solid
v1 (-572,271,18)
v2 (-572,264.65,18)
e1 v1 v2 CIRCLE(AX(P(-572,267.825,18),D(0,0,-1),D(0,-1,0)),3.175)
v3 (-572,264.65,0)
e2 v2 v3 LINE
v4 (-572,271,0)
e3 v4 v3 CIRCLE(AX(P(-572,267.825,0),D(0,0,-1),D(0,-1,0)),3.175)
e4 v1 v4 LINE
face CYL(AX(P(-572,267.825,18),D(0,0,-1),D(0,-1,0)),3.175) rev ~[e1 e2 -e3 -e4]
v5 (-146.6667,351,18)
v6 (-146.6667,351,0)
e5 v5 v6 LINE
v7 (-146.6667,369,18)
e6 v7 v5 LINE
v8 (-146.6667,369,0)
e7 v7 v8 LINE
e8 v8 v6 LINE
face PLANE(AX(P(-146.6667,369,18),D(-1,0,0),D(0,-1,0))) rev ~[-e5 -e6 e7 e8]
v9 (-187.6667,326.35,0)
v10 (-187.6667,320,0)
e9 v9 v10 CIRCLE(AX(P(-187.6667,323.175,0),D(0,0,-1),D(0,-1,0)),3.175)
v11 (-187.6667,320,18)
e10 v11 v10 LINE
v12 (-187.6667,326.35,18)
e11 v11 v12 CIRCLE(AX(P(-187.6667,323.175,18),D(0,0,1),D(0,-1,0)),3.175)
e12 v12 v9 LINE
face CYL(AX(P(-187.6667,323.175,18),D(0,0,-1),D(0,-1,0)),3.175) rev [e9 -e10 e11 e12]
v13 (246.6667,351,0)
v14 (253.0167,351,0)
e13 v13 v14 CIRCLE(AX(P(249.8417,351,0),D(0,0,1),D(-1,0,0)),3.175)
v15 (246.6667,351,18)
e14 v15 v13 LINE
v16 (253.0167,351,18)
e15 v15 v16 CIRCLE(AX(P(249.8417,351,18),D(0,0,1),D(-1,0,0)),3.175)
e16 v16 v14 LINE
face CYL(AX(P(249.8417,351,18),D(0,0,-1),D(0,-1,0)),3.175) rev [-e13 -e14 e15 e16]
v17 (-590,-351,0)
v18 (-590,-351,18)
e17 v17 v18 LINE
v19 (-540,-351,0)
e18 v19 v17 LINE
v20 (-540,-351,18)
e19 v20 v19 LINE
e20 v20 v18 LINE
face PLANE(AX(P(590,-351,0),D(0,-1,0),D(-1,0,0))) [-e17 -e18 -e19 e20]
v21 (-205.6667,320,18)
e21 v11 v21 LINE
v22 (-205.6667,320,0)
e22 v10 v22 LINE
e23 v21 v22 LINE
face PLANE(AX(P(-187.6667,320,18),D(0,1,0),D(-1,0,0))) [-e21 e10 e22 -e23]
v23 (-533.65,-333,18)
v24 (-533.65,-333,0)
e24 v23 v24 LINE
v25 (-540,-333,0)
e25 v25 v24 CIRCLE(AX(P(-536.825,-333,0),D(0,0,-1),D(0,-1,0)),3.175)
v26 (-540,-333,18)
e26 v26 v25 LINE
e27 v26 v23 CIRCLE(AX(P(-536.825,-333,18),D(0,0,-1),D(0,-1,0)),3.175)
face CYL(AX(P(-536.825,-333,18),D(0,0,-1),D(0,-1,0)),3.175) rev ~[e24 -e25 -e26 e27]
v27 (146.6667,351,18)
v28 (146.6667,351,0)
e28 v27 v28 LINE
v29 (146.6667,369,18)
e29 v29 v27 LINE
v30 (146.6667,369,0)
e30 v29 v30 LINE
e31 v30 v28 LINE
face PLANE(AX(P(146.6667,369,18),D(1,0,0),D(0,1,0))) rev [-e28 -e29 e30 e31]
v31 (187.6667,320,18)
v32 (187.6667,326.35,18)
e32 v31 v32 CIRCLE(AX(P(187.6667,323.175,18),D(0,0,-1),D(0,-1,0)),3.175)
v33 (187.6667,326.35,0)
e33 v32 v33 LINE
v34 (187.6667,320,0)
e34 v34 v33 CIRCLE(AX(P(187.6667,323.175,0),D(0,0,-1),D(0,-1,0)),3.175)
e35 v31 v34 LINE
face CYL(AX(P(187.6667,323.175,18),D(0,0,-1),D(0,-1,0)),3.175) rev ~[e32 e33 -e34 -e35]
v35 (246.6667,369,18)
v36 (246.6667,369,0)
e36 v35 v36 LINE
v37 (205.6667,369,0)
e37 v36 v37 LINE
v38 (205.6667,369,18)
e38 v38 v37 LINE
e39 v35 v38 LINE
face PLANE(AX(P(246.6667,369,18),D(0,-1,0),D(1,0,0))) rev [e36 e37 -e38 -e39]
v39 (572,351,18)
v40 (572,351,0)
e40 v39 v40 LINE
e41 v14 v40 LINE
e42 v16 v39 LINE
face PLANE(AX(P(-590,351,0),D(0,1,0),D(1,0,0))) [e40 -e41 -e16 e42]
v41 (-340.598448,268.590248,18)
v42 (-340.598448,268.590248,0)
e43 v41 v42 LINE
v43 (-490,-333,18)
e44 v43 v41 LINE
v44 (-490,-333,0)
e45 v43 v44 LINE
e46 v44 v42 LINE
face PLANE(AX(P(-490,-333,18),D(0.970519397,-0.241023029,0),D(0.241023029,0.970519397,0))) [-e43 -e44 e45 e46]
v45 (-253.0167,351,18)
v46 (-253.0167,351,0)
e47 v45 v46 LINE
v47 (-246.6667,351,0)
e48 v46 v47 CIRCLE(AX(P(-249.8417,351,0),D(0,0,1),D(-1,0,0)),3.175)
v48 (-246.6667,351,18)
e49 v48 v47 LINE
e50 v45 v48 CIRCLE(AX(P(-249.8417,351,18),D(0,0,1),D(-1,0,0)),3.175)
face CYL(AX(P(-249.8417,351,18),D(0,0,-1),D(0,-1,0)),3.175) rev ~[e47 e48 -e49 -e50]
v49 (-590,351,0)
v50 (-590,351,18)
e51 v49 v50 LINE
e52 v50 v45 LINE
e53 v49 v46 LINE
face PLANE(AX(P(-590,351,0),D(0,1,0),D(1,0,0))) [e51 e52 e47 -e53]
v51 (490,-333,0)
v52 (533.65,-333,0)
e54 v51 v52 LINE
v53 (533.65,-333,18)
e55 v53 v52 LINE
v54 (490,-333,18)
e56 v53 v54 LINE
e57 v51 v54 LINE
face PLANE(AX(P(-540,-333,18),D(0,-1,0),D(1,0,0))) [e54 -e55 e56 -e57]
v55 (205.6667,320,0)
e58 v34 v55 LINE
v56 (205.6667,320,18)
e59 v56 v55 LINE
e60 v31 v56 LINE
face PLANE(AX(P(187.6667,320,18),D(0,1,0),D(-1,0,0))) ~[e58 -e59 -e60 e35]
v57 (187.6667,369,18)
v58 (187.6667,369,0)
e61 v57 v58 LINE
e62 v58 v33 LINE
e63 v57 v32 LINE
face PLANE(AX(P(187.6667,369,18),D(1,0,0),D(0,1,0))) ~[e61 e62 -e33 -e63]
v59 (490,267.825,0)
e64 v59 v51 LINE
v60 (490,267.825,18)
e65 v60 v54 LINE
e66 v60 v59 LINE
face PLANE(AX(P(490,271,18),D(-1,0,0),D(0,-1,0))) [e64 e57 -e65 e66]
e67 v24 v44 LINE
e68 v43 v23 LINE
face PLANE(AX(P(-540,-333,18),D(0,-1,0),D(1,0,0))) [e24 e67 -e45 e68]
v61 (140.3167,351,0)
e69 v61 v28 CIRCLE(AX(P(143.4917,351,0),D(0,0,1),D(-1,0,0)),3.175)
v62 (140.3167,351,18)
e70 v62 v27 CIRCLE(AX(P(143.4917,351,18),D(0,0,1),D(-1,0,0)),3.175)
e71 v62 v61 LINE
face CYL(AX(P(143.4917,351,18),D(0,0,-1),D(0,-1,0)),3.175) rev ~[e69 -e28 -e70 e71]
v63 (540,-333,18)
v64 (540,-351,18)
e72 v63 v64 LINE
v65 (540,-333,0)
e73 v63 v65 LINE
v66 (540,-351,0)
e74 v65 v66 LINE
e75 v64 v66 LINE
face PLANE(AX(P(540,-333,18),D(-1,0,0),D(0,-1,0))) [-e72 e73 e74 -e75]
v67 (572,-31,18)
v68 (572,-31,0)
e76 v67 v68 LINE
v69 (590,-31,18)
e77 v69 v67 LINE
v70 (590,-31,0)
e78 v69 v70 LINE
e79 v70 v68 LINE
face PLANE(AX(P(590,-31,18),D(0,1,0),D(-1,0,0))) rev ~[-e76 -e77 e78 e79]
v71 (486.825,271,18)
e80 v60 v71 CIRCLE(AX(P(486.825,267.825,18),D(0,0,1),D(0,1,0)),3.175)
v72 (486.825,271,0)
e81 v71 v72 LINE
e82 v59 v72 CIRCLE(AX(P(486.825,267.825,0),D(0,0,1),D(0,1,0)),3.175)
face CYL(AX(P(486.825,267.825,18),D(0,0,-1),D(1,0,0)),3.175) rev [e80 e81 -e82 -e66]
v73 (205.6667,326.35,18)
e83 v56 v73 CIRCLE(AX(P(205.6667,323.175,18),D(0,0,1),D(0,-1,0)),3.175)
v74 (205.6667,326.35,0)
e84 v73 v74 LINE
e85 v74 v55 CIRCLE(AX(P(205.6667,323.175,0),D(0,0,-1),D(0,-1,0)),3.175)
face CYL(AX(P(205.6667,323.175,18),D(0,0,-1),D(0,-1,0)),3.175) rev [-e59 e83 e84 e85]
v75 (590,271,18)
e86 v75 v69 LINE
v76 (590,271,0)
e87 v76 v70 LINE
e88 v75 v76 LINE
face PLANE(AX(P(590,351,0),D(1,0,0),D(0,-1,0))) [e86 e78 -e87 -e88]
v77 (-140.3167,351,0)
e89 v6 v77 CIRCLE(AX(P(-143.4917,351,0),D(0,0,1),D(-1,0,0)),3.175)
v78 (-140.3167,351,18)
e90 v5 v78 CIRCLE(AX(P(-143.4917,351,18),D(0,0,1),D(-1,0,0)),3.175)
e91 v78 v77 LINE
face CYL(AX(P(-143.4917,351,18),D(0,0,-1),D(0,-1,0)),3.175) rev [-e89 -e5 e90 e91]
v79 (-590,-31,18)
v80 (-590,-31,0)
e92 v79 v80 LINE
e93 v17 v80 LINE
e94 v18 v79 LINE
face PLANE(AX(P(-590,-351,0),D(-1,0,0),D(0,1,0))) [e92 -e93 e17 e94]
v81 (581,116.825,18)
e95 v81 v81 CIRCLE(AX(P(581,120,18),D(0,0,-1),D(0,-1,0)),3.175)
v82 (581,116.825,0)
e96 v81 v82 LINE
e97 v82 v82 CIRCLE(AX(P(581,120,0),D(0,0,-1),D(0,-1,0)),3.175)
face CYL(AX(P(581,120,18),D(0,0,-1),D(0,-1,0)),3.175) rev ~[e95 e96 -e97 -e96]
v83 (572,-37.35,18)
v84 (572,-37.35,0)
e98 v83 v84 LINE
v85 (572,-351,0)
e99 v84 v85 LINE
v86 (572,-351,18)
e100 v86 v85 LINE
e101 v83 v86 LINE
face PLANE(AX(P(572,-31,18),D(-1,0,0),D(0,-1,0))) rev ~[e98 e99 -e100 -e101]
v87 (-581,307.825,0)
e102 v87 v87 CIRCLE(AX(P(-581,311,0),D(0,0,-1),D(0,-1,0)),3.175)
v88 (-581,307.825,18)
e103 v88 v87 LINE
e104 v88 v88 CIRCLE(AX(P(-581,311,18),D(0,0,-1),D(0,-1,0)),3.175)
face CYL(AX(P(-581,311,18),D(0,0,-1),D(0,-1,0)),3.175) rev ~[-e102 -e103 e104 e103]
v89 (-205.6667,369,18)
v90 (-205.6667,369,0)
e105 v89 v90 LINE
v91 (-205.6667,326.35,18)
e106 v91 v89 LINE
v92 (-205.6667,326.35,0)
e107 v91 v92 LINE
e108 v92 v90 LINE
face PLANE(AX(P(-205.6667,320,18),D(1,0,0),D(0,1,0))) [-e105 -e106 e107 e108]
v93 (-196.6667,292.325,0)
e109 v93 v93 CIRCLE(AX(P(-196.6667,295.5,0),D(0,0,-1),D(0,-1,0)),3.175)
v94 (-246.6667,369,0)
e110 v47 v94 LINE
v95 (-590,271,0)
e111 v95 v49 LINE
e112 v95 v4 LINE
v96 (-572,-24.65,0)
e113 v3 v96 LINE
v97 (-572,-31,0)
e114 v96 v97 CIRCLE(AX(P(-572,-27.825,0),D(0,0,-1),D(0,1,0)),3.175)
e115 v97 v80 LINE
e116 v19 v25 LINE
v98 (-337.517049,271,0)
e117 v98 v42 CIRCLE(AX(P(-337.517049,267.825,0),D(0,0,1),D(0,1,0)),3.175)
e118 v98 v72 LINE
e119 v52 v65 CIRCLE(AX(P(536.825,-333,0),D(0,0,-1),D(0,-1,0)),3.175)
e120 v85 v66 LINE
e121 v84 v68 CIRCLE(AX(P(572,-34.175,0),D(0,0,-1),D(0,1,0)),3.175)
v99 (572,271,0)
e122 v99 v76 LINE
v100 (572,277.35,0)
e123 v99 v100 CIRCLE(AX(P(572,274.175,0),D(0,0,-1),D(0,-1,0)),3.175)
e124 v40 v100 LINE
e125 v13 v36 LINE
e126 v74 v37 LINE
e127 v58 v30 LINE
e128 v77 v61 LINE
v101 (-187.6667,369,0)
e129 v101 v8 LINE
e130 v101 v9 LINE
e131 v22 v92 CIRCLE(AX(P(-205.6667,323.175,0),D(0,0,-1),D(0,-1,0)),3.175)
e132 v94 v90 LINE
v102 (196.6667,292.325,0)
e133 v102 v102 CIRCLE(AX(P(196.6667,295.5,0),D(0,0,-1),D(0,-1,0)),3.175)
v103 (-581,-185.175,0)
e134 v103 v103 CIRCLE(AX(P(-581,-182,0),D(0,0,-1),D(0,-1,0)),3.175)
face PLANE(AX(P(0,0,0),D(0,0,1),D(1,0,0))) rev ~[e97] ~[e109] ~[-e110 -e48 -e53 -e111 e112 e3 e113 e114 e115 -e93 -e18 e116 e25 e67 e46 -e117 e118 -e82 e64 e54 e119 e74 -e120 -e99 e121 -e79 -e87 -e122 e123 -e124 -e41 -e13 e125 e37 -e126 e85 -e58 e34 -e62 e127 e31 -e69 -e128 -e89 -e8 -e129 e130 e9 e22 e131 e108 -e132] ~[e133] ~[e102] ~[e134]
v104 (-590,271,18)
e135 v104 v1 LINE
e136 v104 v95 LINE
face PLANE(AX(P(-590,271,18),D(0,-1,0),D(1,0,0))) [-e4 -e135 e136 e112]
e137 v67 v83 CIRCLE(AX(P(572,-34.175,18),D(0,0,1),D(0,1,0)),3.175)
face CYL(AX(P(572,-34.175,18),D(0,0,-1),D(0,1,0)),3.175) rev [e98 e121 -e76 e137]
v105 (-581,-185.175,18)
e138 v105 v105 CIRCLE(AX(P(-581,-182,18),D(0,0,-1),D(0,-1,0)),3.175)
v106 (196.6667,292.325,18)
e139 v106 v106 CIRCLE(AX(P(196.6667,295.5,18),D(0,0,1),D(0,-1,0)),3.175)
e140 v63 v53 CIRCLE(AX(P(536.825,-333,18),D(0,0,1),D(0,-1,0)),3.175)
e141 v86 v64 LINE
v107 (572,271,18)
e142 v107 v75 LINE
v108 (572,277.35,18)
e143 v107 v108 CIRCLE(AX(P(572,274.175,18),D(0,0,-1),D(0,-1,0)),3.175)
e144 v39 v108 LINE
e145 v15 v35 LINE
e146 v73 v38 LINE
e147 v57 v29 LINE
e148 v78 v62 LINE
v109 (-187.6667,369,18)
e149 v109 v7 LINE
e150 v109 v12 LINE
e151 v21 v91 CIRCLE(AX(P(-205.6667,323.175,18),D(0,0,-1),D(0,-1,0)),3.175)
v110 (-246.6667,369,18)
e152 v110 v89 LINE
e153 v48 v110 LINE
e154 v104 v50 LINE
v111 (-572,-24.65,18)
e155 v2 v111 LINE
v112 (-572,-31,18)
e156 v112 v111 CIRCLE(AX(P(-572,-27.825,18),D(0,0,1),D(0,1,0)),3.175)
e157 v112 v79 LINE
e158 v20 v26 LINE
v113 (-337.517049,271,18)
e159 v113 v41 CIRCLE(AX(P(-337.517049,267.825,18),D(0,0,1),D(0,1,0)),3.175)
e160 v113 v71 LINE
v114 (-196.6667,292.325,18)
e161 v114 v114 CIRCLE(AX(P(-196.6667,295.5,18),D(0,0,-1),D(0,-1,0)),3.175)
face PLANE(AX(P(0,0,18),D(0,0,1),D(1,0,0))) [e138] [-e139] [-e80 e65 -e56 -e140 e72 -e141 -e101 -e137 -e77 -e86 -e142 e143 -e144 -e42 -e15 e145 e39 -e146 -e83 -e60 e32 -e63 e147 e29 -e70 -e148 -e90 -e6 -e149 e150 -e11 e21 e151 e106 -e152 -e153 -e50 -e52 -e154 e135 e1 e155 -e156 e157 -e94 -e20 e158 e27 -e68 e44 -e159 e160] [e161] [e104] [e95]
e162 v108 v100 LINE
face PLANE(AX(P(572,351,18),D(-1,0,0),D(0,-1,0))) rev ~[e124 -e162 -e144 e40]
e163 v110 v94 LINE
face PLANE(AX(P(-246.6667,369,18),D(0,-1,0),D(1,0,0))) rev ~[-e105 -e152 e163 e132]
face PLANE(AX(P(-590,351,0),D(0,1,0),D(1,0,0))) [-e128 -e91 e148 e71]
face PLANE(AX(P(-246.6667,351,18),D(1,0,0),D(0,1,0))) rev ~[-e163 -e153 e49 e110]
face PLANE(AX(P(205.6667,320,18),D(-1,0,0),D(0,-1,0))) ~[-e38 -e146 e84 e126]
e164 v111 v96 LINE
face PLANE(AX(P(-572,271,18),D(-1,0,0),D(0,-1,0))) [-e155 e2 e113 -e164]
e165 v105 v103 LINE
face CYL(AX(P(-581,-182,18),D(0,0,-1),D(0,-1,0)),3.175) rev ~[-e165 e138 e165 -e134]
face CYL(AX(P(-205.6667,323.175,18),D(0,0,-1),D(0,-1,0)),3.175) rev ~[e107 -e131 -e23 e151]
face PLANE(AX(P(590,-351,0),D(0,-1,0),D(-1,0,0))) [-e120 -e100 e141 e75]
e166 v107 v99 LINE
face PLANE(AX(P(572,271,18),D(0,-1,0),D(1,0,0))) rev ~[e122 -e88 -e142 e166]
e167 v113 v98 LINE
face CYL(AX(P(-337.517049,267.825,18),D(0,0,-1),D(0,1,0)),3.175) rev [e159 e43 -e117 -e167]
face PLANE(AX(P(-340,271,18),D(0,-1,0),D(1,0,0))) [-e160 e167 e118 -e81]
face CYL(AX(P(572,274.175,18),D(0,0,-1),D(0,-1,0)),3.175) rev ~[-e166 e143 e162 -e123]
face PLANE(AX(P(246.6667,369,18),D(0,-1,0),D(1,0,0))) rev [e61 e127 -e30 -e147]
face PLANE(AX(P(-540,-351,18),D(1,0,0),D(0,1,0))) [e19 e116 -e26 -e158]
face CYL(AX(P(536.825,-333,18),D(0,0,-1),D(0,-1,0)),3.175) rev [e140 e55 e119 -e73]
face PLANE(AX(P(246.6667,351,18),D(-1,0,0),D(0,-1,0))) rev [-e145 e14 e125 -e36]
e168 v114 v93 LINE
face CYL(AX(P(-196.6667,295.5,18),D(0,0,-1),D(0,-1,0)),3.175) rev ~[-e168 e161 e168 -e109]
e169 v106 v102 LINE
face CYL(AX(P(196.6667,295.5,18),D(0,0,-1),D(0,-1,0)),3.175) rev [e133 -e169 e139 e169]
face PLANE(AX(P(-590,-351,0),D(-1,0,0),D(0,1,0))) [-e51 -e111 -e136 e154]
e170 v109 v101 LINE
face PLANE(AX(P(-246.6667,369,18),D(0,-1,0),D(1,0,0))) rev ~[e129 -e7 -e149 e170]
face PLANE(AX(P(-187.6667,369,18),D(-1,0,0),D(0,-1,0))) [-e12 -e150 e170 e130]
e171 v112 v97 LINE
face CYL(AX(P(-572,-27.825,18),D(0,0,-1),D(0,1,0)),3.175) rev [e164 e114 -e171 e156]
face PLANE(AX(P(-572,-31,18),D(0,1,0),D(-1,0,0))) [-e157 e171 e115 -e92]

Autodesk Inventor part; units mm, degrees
sketch "Sketch1" plane through (0, 0, 0) normal (0, 0, 1) x (1, 0, 0)
  line L0 (-590, 351) -> (590, 351)
  line L1 (590, 351) -> (590, -351)
  line L2 (590, -351) -> (-590, -351)
  line L3 (-590, -351) -> (-590, 351)
  point P0 (0, 0)
  point P1 (590, 0)
  point P2 (0, 351)
  dimension "d0" = 1180
  dimension "d1" = 702
extrude "Extrusion1" add sketch "Sketch1" along normal blind 18
sketch "Sketch2" plane through (0, 0, 18) normal (0, 0, 1) x (1, 0, 0)
  line L0 (590, 351) -> (-590, 351) projected
  line L1 (-590, 351) -> (-590, -351) projected
  line L2 (-590, -351) -> (590, -351) projected
  line L3 (590, -351) -> (590, 351) projected
  line L4 (-590, -351) -> (-490, -351) construction
  line L5 (-590, 351) -> (-590, -351) construction
  line L6 (590, 351) -> (-590, 351) construction
  line L7 (0, 351) -> (0, -351) construction
  line L8 (590, -351) -> (490, -351) construction
  line L9 (-590, 271) -> (590, 271) construction
  line L10 (-590, 271) -> (-340, 271) construction
  line L11 (-340, 271) -> (490, 271)
  line L12 (490, 271) -> (490, -351)
  line L13 (490, -351) -> (-490, -351)
  line L14 (-490, -351) -> (-490, -333)
  line L15 (-490, -333) -> (-340, 271)
  point P0 (0, 0)
  point P1 (-590, 0)
  point P2 (-590, 0)
  point P3 (-540, -351)
  point P4 (540, -351)
  point P5 (-590, 0)
  point P6 (590, 0)
  point P7 (-590, 0)
  point P8 (-465, 271)
  point P9 (0, 271)
  dimension "d4" = 100
  dimension "d5" = 80
  dimension "d6" = 250
  dimension "d97" = 18
extrude "Extrusion2" cut sketch "Sketch2" against normal blind 18 contours L2 L14 L15 L11 L12
sketch "Sketch3" plane through (0, 0, 18) normal (0, 0, 1) x (1, 0, 0)
  line L0 (-340, 271) -> (490, 271) projected
  line L1 (490, 271) -> (490, -351) projected
  line L2 (490, -351) -> (590, -351) projected
  line L3 (590, -351) -> (590, 351) projected
  line L4 (590, 351) -> (-590, 351) projected
  line L5 (-590, 351) -> (-590, -351) projected
  line L6 (-540, -333) -> (540, -333)
  line L7 (540, -333) -> (540, -351)
  line L8 (540, -351) -> (-540, -351)
  line L9 (-540, -351) -> (-540, -333)
  line L10 (490, -351) -> (590, -351) projected
  line L11 (-590, -351) -> (590, -351) projected
  line L12 (-590, -351) -> (-490, -351) projected
  line L13 (-490, -351) -> (-490, -333) projected
  line L14 (-490, -333) -> (-340, 271) projected
  point P0 (0, 0)
  point P1 (540, -351)
  point P2 (0, -351)
  point P3 (-540, -351)
  point P4 (540, -342)
  point P5 (540, -351)
  point P6 (-540, -342)
  point P7 (-540, -351)
  dimension "d10" = 18
extrude "Extrusion3" cut sketch "Sketch3" against normal blind 18 contours L13 L8 L9 L6 | L6 L1 L8 L13 | L6 L7 L2 L1
sketch "Sketch4" plane through (0, 0, 18) normal (0, 0, 1) x (1, 0, 0)
  line L0 (540, -333) -> (540, -351) projected
  line L1 (540, -351) -> (590, -351) projected
  line L2 (590, -351) -> (590, 351) projected
  line L3 (590, 351) -> (-590, 351) projected
  line L4 (-590, 351) -> (-590, -351) projected
  line L5 (-590, -351) -> (-540, -351) projected
  line L6 (-540, -351) -> (-540, -333) projected
  line L7 (-540, -333) -> (-490, -333) projected
  line L8 (-340, 271) -> (490, 271) projected
  line L9 (490, 271) -> (490, -333) projected
  line L10 (490, -333) -> (540, -333) projected
  line L11 (590, -31) -> (572, -31)
  line L12 (572, -31) -> (572, -351)
  line L13 (572, -351) -> (590, -351)
  line L14 (590, -351) -> (590, -31)
  line L15 (-490, -333) -> (-340, 271) projected
  point P0 (0, 0)
  point P1 (581, -351)
  point P2 (565, -351)
  point P3 (590, -191)
  point P4 (590, 0)
  point P5 (581, -31)
  point P6 (490, -31)
  dimension "d13" = 18
extrude "Extrusion4" cut sketch "Sketch4" against normal blind 18 contours L12 L11 L2 L1
sketch "Sketch5" plane through (0, 0, 18) normal (0, 0, 1) x (1, 0, 0)
  line L0 (-590, 271) -> (-572, 271)
  line L1 (-572, 271) -> (-572, -31)
  line L2 (-572, -31) -> (-590, -31)
  line L3 (-590, -31) -> (-590, 271)
  line L4 (572, -31) -> (590, -31) projected
  line L5 (590, -31) -> (590, 351) projected
  line L6 (590, 351) -> (-590, 351) projected
  line L7 (-590, 351) -> (-590, -351) projected
  line L8 (-590, -351) -> (-540, -351) projected
  line L9 (-540, -351) -> (-540, -333) projected
  line L10 (-540, -333) -> (-490, -333) projected
  line L11 (-340, 271) -> (490, 271) projected
  line L12 (490, 271) -> (490, -333) projected
  line L13 (490, -333) -> (540, -333) projected
  line L14 (540, -333) -> (540, -351) projected
  line L15 (540, -351) -> (572, -351) projected
  line L16 (572, -351) -> (572, -31) projected
  line L17 (-490, -333) -> (-340, 271) projected
  point P0 (0, 0)
  point P1 (-581, -31)
  point P2 (581, -31)
  point P3 (-581, 271)
  point P4 (75, 271)
  point P5 (-590, 120)
  point P6 (-590, 0)
  dimension "d16" = 18
extrude "Extrusion5" cut sketch "Sketch5" against normal blind 18 contours L0 L1 L2 L3
sketch "Sketch6" plane through (0, 0, 18) normal (0, 0, 1) x (1, 0, 0)
  line L0 (-590, 271) -> (-572, 271) projected
  line L1 (-572, 271) -> (-572, -31) projected
  line L2 (-572, -31) -> (-590, -31) projected
  line L3 (-590, -31) -> (-590, -351) projected
  line L4 (-590, -351) -> (-540, -351) projected
  line L5 (-540, -351) -> (-540, -333) projected
  line L6 (-540, -333) -> (-490, -333) projected
  line L7 (-340, 271) -> (490, 271) projected
  line L8 (490, 271) -> (490, -333) projected
  line L9 (490, -333) -> (540, -333) projected
  line L10 (540, -333) -> (540, -351) projected
  line L11 (540, -351) -> (572, -351) projected
  line L12 (572, -351) -> (572, -31) projected
  line L13 (572, -31) -> (590, -31) projected
  line L14 (590, -31) -> (590, 351) projected
  line L15 (590, 351) -> (-590, 351) projected
  line L16 (-590, 351) -> (-590, 271) projected
  line L17 (590, 351) -> (572, 351)
  line L18 (572, 351) -> (572, 271)
  line L19 (572, 271) -> (590, 271)
  line L20 (590, 271) -> (590, 351)
  line L21 (-490, -333) -> (-340, 271) projected
  point P0 (0, 0)
  point P1 (581, 351)
  point P2 (0, 351)
  point P3 (581, 271)
  point P4 (75, 271)
  point P5 (590, 311)
  point P6 (590, 160)
  dimension "d19" = 18
extrude "Extrusion6" cut sketch "Sketch6" against normal blind 18 contours L15 L14 L19 L18
fillet "Fillet1" radius 3.175 2 edges at (-340, 271, 9) (490, 271, 9)
sketch "Sketch7" plane through (0, 0, 18) normal (0, 0, 1) x (1, 0, 0)
  line L0 (-246.6667, 369) -> (-146.6667, 369)
  line L1 (-146.6667, 369) -> (-146.6667, 351)
  line L2 (-146.6667, 351) -> (-246.6667, 351)
  line L3 (-246.6667, 351) -> (-246.6667, 369)
  line L4 (590, 271) -> (572, 271) projected
  line L5 (572, 271) -> (572, 351) projected
  line L6 (572, 351) -> (-590, 351) projected
  line L7 (-590, 351) -> (-590, 271) projected
  line L8 (-590, 271) -> (-572, 271) projected
  line L9 (-572, 271) -> (-572, -31) projected
  line L10 (-572, -31) -> (-590, -31) projected
  line L11 (-590, -31) -> (-590, -351) projected
  line L12 (-590, -351) -> (-540, -351) projected
  line L13 (-540, -351) -> (-540, -333) projected
  line L14 (-540, -333) -> (-490, -333) projected
  arc A0 (-337.517, 271) -> (-340.5984, 268.5902) centre (-337.517, 267.825) ccw projected
  line L15 (-337.517, 271) -> (486.825, 271) projected
  arc A1 (490, 267.825) -> (486.825, 271) centre (486.825, 267.825) ccw projected
  line L16 (490, 267.825) -> (490, -333) projected
  line L17 (490, -333) -> (540, -333) projected
  line L18 (540, -333) -> (540, -351) projected
  line L19 (540, -351) -> (572, -351) projected
  line L20 (572, -351) -> (572, -31) projected
  line L21 (572, -31) -> (590, -31) projected
  line L22 (590, -31) -> (590, 271) projected
  line L23 (-490, -333) -> (-340.5984, 268.5902) projected
  point P0 (0, 0)
  point P1 (-196.6667, 351)
  point P2 (-9, 351)
  dimension "d23" = 18
  dimension "d24" = 100
  dimension "d25" = 393.3333
extrude "Extrusion7" add sketch "Sketch7" against normal blind 18 contours L0 L1 L2 L3
ref_plane "Work Plane1" through (0, 351, 0) normal (-1, 0, 0) x (0, 0, 1)
mirror "Mirror1" about plane through (0, 351, 0) normal (-1, 0, 0) of "Extrusion7"
sketch "Sketch8" plane through (0, 0, 18) normal (0, 0, 1) x (1, 0, 0)
  line L0 (590, 271) -> (572, 271) projected
  line L1 (572, 271) -> (572, 351) projected
  line L2 (572, 351) -> (246.6667, 351) projected
  line L3 (246.6667, 351) -> (246.6667, 369) projected
  line L4 (246.6667, 369) -> (146.6667, 369) projected
  line L5 (146.6667, 369) -> (146.6667, 351) projected
  line L6 (146.6667, 351) -> (-146.6667, 351) projected
  line L7 (-146.6667, 369) -> (-146.6667, 351) projected
  line L8 (-246.6667, 369) -> (-146.6667, 369) projected
  line L9 (-246.6667, 351) -> (-246.6667, 369) projected
  line L10 (-246.6667, 351) -> (-590, 351) projected
  line L11 (-590, 351) -> (-590, 271) projected
  line L12 (-590, 271) -> (-572, 271) projected
  line L13 (-572, 271) -> (-572, -31) projected
  line L14 (-572, -31) -> (-590, -31) projected
  line L15 (-590, -31) -> (-590, -351) projected
  line L16 (-590, -351) -> (-540, -351) projected
  line L17 (-540, -351) -> (-540, -333) projected
  line L18 (-540, -333) -> (-490, -333) projected
  arc A0 (-337.517, 271) -> (-340.5984, 268.5902) centre (-337.517, 267.825) ccw projected
  line L19 (-337.517, 271) -> (486.825, 271) projected
  arc A1 (490, 267.825) -> (486.825, 271) centre (486.825, 267.825) ccw projected
  line L20 (490, 267.825) -> (490, -333) projected
  line L21 (490, -333) -> (540, -333) projected
  line L22 (540, -333) -> (540, -351) projected
  line L23 (540, -351) -> (572, -351) projected
  line L24 (572, -351) -> (572, -31) projected
  line L25 (572, -31) -> (590, -31) projected
  line L26 (590, -31) -> (590, 271) projected
  line L27 (-205.6667, 369) -> (-187.6667, 369)
  line L28 (-187.6667, 369) -> (-187.6667, 320)
  line L29 (-187.6667, 320) -> (-205.6667, 320)
  line L30 (-205.6667, 320) -> (-205.6667, 369)
  line L31 (-246.6667, 369) -> (-146.6667, 369) projected
  line L32 (486.825, 271) -> (-337.517, 271) construction
  line L33 (-490, -333) -> (-340.5984, 268.5902) projected
  point P0 (0, 0)
  point P1 (-196.6667, 369)
  point P2 (-196.6667, 369)
  point P3 (-196.6667, 369)
  point P4 (-196.6667, 320)
  point P5 (-590, 311)
  point P6 (-246.6667, 320)
  dimension "d28" = 18
  dimension "d31" = 49
extrude "Extrusion8" cut sketch "Sketch8" against normal blind 18 contours L28 L29 L30 L8
mirror "Mirror2" about plane through (0, 351, 0) normal (-1, 0, 0) of "Extrusion8"
sketch "Sketch9" plane through (0, 0, 18) normal (0, 0, 1) x (1, 0, 0)
  line L0 (187.6667, 320) -> (187.6667, 369) projected
  line L1 (187.6667, 369) -> (146.6667, 369) projected
  line L2 (146.6667, 369) -> (146.6667, 351) projected
  line L3 (146.6667, 351) -> (-146.6667, 351) projected
  line L4 (-146.6667, 369) -> (-146.6667, 351) projected
  line L5 (-187.6667, 369) -> (-146.6667, 369) projected
  line L6 (-187.6667, 369) -> (-187.6667, 320) projected
  line L7 (-187.6667, 320) -> (-205.6667, 320) projected
  line L8 (-205.6667, 320) -> (-205.6667, 369) projected
  line L9 (-246.6667, 369) -> (-205.6667, 369) projected
  line L10 (-246.6667, 351) -> (-246.6667, 369) projected
  line L11 (-246.6667, 351) -> (-590, 351) projected
  line L12 (-590, 351) -> (-590, 271) projected
  line L13 (-590, 271) -> (-572, 271) projected
  line L14 (-572, 271) -> (-572, -31) projected
  line L15 (-572, -31) -> (-590, -31) projected
  line L16 (-590, -31) -> (-590, -351) projected
  line L17 (-590, -351) -> (-540, -351) projected
  line L18 (-540, -351) -> (-540, -333) projected
  line L19 (-540, -333) -> (-490, -333) projected
  arc A0 (-337.517, 271) -> (-340.5984, 268.5902) centre (-337.517, 267.825) ccw projected
  line L20 (-337.517, 271) -> (486.825, 271) projected
  arc A1 (490, 267.825) -> (486.825, 271) centre (486.825, 267.825) ccw projected
  line L21 (490, 267.825) -> (490, -333) projected
  line L22 (490, -333) -> (540, -333) projected
  line L23 (540, -333) -> (540, -351) projected
  line L24 (540, -351) -> (572, -351) projected
  line L25 (572, -351) -> (572, -31) projected
  line L26 (572, -31) -> (590, -31) projected
  line L27 (590, -31) -> (590, 271) projected
  line L28 (590, 271) -> (572, 271) projected
  line L29 (572, 271) -> (572, 351) projected
  line L30 (572, 351) -> (246.6667, 351) projected
  line L31 (246.6667, 351) -> (246.6667, 369) projected
  line L32 (246.6667, 369) -> (205.6667, 369) projected
  line L33 (205.6667, 369) -> (205.6667, 320) projected
  line L34 (205.6667, 320) -> (187.6667, 320) projected
  line L35 (-490, -333) -> (-340.5984, 268.5902) projected
  point P0 (0, 0)
  point P1 (-581, 311)
  point P2 (-590, 311)
  dimension "d32" = 9
hole "Hole1" at (-581, 311, 18) direction (0, 0, -1) diameter 6.35 end through all
sketch "Sketch10" plane through (0, 0, 18) normal (0, 0, 1) x (1, 0, 0)
  circle A0 centre (-581, 311) radius 3.175 projected
  line L0 (187.6667, 320) -> (187.6667, 369) projected
  line L1 (187.6667, 369) -> (146.6667, 369) projected
  line L2 (146.6667, 369) -> (146.6667, 351) projected
  line L3 (146.6667, 351) -> (-146.6667, 351) projected
  line L4 (-146.6667, 369) -> (-146.6667, 351) projected
  line L5 (-187.6667, 369) -> (-146.6667, 369) projected
  line L6 (-187.6667, 369) -> (-187.6667, 320) projected
  line L7 (-187.6667, 320) -> (-205.6667, 320) projected
  line L8 (-205.6667, 320) -> (-205.6667, 369) projected
  line L9 (-246.6667, 369) -> (-205.6667, 369) projected
  line L10 (-246.6667, 351) -> (-246.6667, 369) projected
  line L11 (-246.6667, 351) -> (-590, 351) projected
  line L12 (-590, 351) -> (-590, 271) projected
  line L13 (-590, 271) -> (-572, 271) projected
  line L14 (-572, 271) -> (-572, -31) projected
  line L15 (-572, -31) -> (-590, -31) projected
  line L16 (-590, -31) -> (-590, -351) projected
  line L17 (-590, -351) -> (-540, -351) projected
  line L18 (-540, -351) -> (-540, -333) projected
  line L19 (-540, -333) -> (-490, -333) projected
  arc A1 (-337.517, 271) -> (-340.5984, 268.5902) centre (-337.517, 267.825) ccw projected
  line L20 (-337.517, 271) -> (486.825, 271) projected
  arc A2 (490, 267.825) -> (486.825, 271) centre (486.825, 267.825) ccw projected
  line L21 (490, 267.825) -> (490, -333) projected
  line L22 (490, -333) -> (540, -333) projected
  line L23 (540, -333) -> (540, -351) projected
  line L24 (540, -351) -> (572, -351) projected
  line L25 (572, -351) -> (572, -31) projected
  line L26 (572, -31) -> (590, -31) projected
  line L27 (590, -31) -> (590, 271) projected
  line L28 (590, 271) -> (572, 271) projected
  line L29 (572, 271) -> (572, 351) projected
  line L30 (572, 351) -> (246.6667, 351) projected
  line L31 (246.6667, 351) -> (246.6667, 369) projected
  line L32 (246.6667, 369) -> (205.6667, 369) projected
  line L33 (205.6667, 369) -> (205.6667, 320) projected
  line L34 (205.6667, 320) -> (187.6667, 320) projected
  line L35 (-581, -31) -> (-581, -333) construction
  line L36 (-490, -333) -> (-340.5984, 268.5902) projected
  point P0 (0, 0)
  point P1 (-581, -31)
  point P2 (-515, -333)
  point P3 (-581, -182)
  dimension "d40" = 9
hole "Hole2" at (-581, -182, 18) direction (0, 0, -1) diameter 6.35 end through all
sketch "Sketch11" plane through (0, 0, 18) normal (0, 0, 1) x (1, 0, 0)
  circle A0 centre (-581, -182) radius 3.175 projected
  circle A1 centre (-581, 311) radius 3.175 projected
  line L0 (187.6667, 320) -> (187.6667, 369) projected
  line L1 (187.6667, 369) -> (146.6667, 369) projected
  line L2 (146.6667, 369) -> (146.6667, 351) projected
  line L3 (146.6667, 351) -> (-146.6667, 351) projected
  line L4 (-146.6667, 369) -> (-146.6667, 351) projected
  line L5 (-187.6667, 369) -> (-146.6667, 369) projected
  line L6 (-187.6667, 369) -> (-187.6667, 320) projected
  line L7 (-187.6667, 320) -> (-205.6667, 320) projected
  line L8 (-205.6667, 320) -> (-205.6667, 369) projected
  line L9 (-246.6667, 369) -> (-205.6667, 369) projected
  line L10 (-246.6667, 351) -> (-246.6667, 369) projected
  line L11 (-246.6667, 351) -> (-590, 351) projected
  line L12 (-590, 351) -> (-590, 271) projected
  line L13 (-590, 271) -> (-572, 271) projected
  line L14 (-572, 271) -> (-572, -31) projected
  line L15 (-572, -31) -> (-590, -31) projected
  line L16 (-590, -31) -> (-590, -351) projected
  line L17 (-590, -351) -> (-540, -351) projected
  line L18 (-540, -351) -> (-540, -333) projected
  line L19 (-540, -333) -> (-490, -333) projected
  arc A2 (-337.517, 271) -> (-340.5984, 268.5902) centre (-337.517, 267.825) ccw projected
  line L20 (-337.517, 271) -> (486.825, 271) projected
  arc A3 (490, 267.825) -> (486.825, 271) centre (486.825, 267.825) ccw projected
  line L21 (490, 267.825) -> (490, -333) projected
  line L22 (490, -333) -> (540, -333) projected
  line L23 (540, -333) -> (540, -351) projected
  line L24 (540, -351) -> (572, -351) projected
  line L25 (572, -351) -> (572, -31) projected
  line L26 (572, -31) -> (590, -31) projected
  line L27 (590, -31) -> (590, 271) projected
  line L28 (590, 271) -> (572, 271) projected
  line L29 (572, 271) -> (572, 351) projected
  line L30 (572, 351) -> (246.6667, 351) projected
  line L31 (246.6667, 351) -> (246.6667, 369) projected
  line L32 (246.6667, 369) -> (205.6667, 369) projected
  line L33 (205.6667, 369) -> (205.6667, 320) projected
  line L34 (205.6667, 320) -> (187.6667, 320) projected
  line L35 (-490, -333) -> (-340.5984, 268.5902) projected
  point P0 (0, 0)
  point P1 (581, 120)
  point P2 (590, 120)
  dimension "d48" = 9
hole "Hole3" at (581, 120, 18) direction (0, 0, -1) diameter 6.35 end through all
sketch "Sketch12" plane through (0, 0, 18) normal (0, 0, 1) x (1, 0, 0)
  circle A0 centre (581, 120) radius 3.175 projected
  circle A1 centre (-581, -182) radius 3.175 projected
  circle A2 centre (-581, 311) radius 3.175 projected
  line L0 (187.6667, 320) -> (187.6667, 369) projected
  line L1 (187.6667, 369) -> (146.6667, 369) projected
  line L2 (146.6667, 369) -> (146.6667, 351) projected
  line L3 (146.6667, 351) -> (-146.6667, 351) projected
  line L4 (-146.6667, 369) -> (-146.6667, 351) projected
  line L5 (-187.6667, 369) -> (-146.6667, 369) projected
  line L6 (-187.6667, 369) -> (-187.6667, 320) projected
  line L7 (-187.6667, 320) -> (-205.6667, 320) projected
  line L8 (-205.6667, 320) -> (-205.6667, 369) projected
  line L9 (-246.6667, 369) -> (-205.6667, 369) projected
  line L10 (-246.6667, 351) -> (-246.6667, 369) projected
  line L11 (-246.6667, 351) -> (-590, 351) projected
  line L12 (-590, 351) -> (-590, 271) projected
  line L13 (-590, 271) -> (-572, 271) projected
  line L14 (-572, 271) -> (-572, -31) projected
  line L15 (-572, -31) -> (-590, -31) projected
  line L16 (-590, -31) -> (-590, -351) projected
  line L17 (-590, -351) -> (-540, -351) projected
  line L18 (-540, -351) -> (-540, -333) projected
  line L19 (-540, -333) -> (-490, -333) projected
  arc A3 (-337.517, 271) -> (-340.5984, 268.5902) centre (-337.517, 267.825) ccw projected
  line L20 (-337.517, 271) -> (486.825, 271) projected
  arc A4 (490, 267.825) -> (486.825, 271) centre (486.825, 267.825) ccw projected
  line L21 (490, 267.825) -> (490, -333) projected
  line L22 (490, -333) -> (540, -333) projected
  line L23 (540, -333) -> (540, -351) projected
  line L24 (540, -351) -> (572, -351) projected
  line L25 (572, -351) -> (572, -31) projected
  line L26 (572, -31) -> (590, -31) projected
  line L27 (590, -31) -> (590, 271) projected
  line L28 (590, 271) -> (572, 271) projected
  line L29 (572, 271) -> (572, 351) projected
  line L30 (572, 351) -> (246.6667, 351) projected
  line L31 (246.6667, 351) -> (246.6667, 369) projected
  line L32 (246.6667, 369) -> (205.6667, 369) projected
  line L33 (205.6667, 369) -> (205.6667, 320) projected
  line L34 (205.6667, 320) -> (187.6667, 320) projected
  line L35 (-196.6667, 320) -> (-196.6667, 271) construction
  line L36 (-187.6667, 320) -> (-205.6667, 320) construction
  line L37 (-490, -333) -> (-340.5984, 268.5902) projected
  point P0 (0, 0)
  point P1 (74.654, 271)
  point P2 (-196.6667, 295.5)
  point P3 (-196.6667, 295.5)
hole "Hole4" at (-196.6667, 295.5, 18) direction (0, 0, -1) diameter 6.35 end through all
mirror "Mirror3" about plane through (0, 351, 0) normal (-1, 0, 0) of "Hole4"
sketch "Sketch13" plane through (0, 0, 18) normal (0, 0, 1) x (1, 0, 0)
  line L0 (-590, 271) -> (-572, 271) projected
  point P0 (0, 0)
  point P1 (-572, 267.825)
  dimension "d63" = 3.175
hole "Hole5" at (-572, 267.825, 18) direction (0, 0, -1) diameter 6.35 end through all
ref_plane "Work Plane2" through (-590, 120, 0) normal (0, -1, 0) x (1, 0, 0)
mirror "Mirror4" about plane through (-590, 120, 0) normal (0, -1, 0) of "Hole5"
sketch "Sketch14" plane through (0, 0, 18) normal (0, 0, 1) x (1, 0, 0)
  arc A0 (-572, -31) -> (-572, -24.65) centre (-572, -27.825) ccw projected
  line L0 (-572, -31) -> (-590, -31) projected
  line L1 (-590, -31) -> (-590, -351) projected
  line L2 (-590, -351) -> (-540, -351) projected
  line L3 (-540, -351) -> (-540, -333) projected
  line L4 (-540, -333) -> (-490, -333) projected
  arc A1 (-337.517, 271) -> (-340.5984, 268.5902) centre (-337.517, 267.825) ccw projected
  line L5 (-337.517, 271) -> (486.825, 271) projected
  arc A2 (490, 267.825) -> (486.825, 271) centre (486.825, 267.825) ccw projected
  line L6 (490, 267.825) -> (490, -333) projected
  line L7 (490, -333) -> (540, -333) projected
  line L8 (540, -333) -> (540, -351) projected
  line L9 (540, -351) -> (572, -351) projected
  line L10 (572, -351) -> (572, -31) projected
  line L11 (572, -31) -> (590, -31) projected
  line L12 (590, -31) -> (590, 271) projected
  line L13 (590, 271) -> (572, 271) projected
  line L14 (572, 271) -> (572, 351) projected
  line L15 (572, 351) -> (246.6667, 351) projected
  line L16 (246.6667, 351) -> (246.6667, 369) projected
  line L17 (246.6667, 369) -> (205.6667, 369) projected
  line L18 (205.6667, 369) -> (205.6667, 320) projected
  line L19 (205.6667, 320) -> (187.6667, 320) projected
  line L20 (187.6667, 320) -> (187.6667, 369) projected
  line L21 (187.6667, 369) -> (146.6667, 369) projected
  line L22 (146.6667, 369) -> (146.6667, 351) projected
  line L23 (146.6667, 351) -> (-146.6667, 351) projected
  line L24 (-146.6667, 369) -> (-146.6667, 351) projected
  line L25 (-187.6667, 369) -> (-146.6667, 369) projected
  line L26 (-187.6667, 369) -> (-187.6667, 320) projected
  line L27 (-187.6667, 320) -> (-205.6667, 320) projected
  line L28 (-205.6667, 320) -> (-205.6667, 369) projected
  line L29 (-246.6667, 369) -> (-205.6667, 369) projected
  line L30 (-246.6667, 351) -> (-246.6667, 369) projected
  line L31 (-246.6667, 351) -> (-590, 351) projected
  line L32 (-590, 351) -> (-590, 271) projected
  line L33 (-590, 271) -> (-572, 271) projected
  arc A3 (-572, 264.65) -> (-572, 271) centre (-572, 267.825) ccw projected
  line L34 (-572, 264.65) -> (-572, -24.65) projected
  circle A4 centre (196.6667, 295.5) radius 3.175 projected
  circle A5 centre (-196.6667, 295.5) radius 3.175 projected
  circle A6 centre (581, 120) radius 3.175 projected
  circle A7 centre (-581, -182) radius 3.175 projected
  circle A8 centre (-581, 311) radius 3.175 projected
  line L35 (-490, -333) -> (-340.5984, 268.5902) projected
  point P0 (0, 0)
  point P1 (572, 274.175)
  dimension "d71" = 3.175
hole "Hole6" at (572, 274.175, 18) direction (0, 0, -1) diameter 6.35 end through all
mirror "Mirror5" about plane through (-590, 120, 0) normal (0, -1, 0) of "Hole6"
sketch "Sketch15" plane through (0, 0, 18) normal (0, 0, 1) x (1, 0, 0)
  line L0 (-540, -351) -> (-540, -333) projected
  line L1 (-540, -333) -> (-490, -333) projected
  point P0 (0, 0)
  point P1 (-536.825, -333)
  point P2 (-515, -333)
  point P3 (-485.6592, -333)
  dimension "d79" = 3.175
hole "Hole7" at (-536.825, -333, 18) direction (0, 0, -1) diameter 6.35 end through all
mirror "Mirror6" about plane through (0, 351, 0) normal (-1, 0, 0) of "Hole7"
sketch "Sketch16" plane through (0, 0, 18) normal (0, 0, 1) x (1, 0, 0)
  arc A0 (540, -333) -> (533.65, -333) centre (536.825, -333) ccw projected
  line L0 (540, -333) -> (540, -351) projected
  line L1 (540, -351) -> (572, -351) projected
  line L2 (572, -351) -> (572, -37.35) projected
  arc A1 (572, -31) -> (572, -37.35) centre (572, -34.175) ccw projected
  line L3 (572, -31) -> (590, -31) projected
  line L4 (590, -31) -> (590, 271) projected
  line L5 (590, 271) -> (572, 271) projected
  arc A2 (572, 277.35) -> (572, 271) centre (572, 274.175) ccw projected
  line L6 (572, 277.35) -> (572, 351) projected
  line L7 (572, 351) -> (246.6667, 351) projected
  line L8 (246.6667, 351) -> (246.6667, 369) projected
  line L9 (246.6667, 369) -> (205.6667, 369) projected
  line L10 (205.6667, 369) -> (205.6667, 320) projected
  line L11 (205.6667, 320) -> (187.6667, 320) projected
  line L12 (187.6667, 320) -> (187.6667, 369) projected
  line L13 (187.6667, 369) -> (146.6667, 369) projected
  line L14 (146.6667, 369) -> (146.6667, 351) projected
  line L15 (146.6667, 351) -> (-146.6667, 351) projected
  line L16 (-146.6667, 369) -> (-146.6667, 351) projected
  line L17 (-187.6667, 369) -> (-146.6667, 369) projected
  line L18 (-187.6667, 369) -> (-187.6667, 320) projected
  line L19 (-187.6667, 320) -> (-205.6667, 320) projected
  line L20 (-205.6667, 320) -> (-205.6667, 369) projected
  line L21 (-246.6667, 369) -> (-205.6667, 369) projected
  line L22 (-246.6667, 351) -> (-246.6667, 369) projected
  line L23 (-246.6667, 351) -> (-590, 351) projected
  line L24 (-590, 351) -> (-590, 271) projected
  line L25 (-590, 271) -> (-572, 271) projected
  arc A3 (-572, 264.65) -> (-572, 271) centre (-572, 267.825) ccw projected
  line L26 (-572, 264.65) -> (-572, -24.65) projected
  arc A4 (-572, -31) -> (-572, -24.65) centre (-572, -27.825) ccw projected
  line L27 (-572, -31) -> (-590, -31) projected
  line L28 (-590, -31) -> (-590, -351) projected
  line L29 (-590, -351) -> (-540, -351) projected
  line L30 (-540, -351) -> (-540, -333) projected
  arc A5 (-533.65, -333) -> (-540, -333) centre (-536.825, -333) ccw projected
  line L31 (-533.65, -333) -> (-490, -333) projected
  arc A6 (-337.517, 271) -> (-340.5984, 268.5902) centre (-337.517, 267.825) ccw projected
  line L32 (-337.517, 271) -> (486.825, 271) projected
  arc A7 (490, 267.825) -> (486.825, 271) centre (486.825, 267.825) ccw projected
  line L33 (490, 267.825) -> (490, -333) projected
  line L34 (490, -333) -> (533.65, -333) projected
  circle A8 centre (196.6667, 295.5) radius 3.175 projected
  circle A9 centre (-196.6667, 295.5) radius 3.175 projected
  circle A10 centre (581, 120) radius 3.175 projected
  circle A11 centre (-581, -182) radius 3.175 projected
  circle A12 centre (-581, 311) radius 3.175 projected
  line L35 (-490, -333) -> (-340.5984, 268.5902) projected
  point P0 (0, 0)
  point P1 (-249.8417, 351)
  point P2 (-205.6667, 323.175)
  dimension "d87" = 3.175
  dimension "d88" = 3.175
hole "Hole8" at (-249.8417, 351, 18) at (-205.6667, 323.175, 18) direction (0, 0, -1) diameter 6.35 end through all
ref_plane "Work Plane3" through (-196.6667, 320, 18) normal (-1, 0, 0) x (0, 0, 1)
mirror "Mirror7" about plane through (-196.6667, 320, 18) normal (-1, 0, 0) of "Hole8"
mirror "Mirror8" about plane through (0, 351, 0) normal (-1, 0, 0) of "Hole8", "Mirror7"
equation "\"d0\" = tableLength"
equation "\"d1\" = legHeight"
equation "\"d2\" = PlyThickness"
equation "\"d4\" = legBaseWidth"
equation "\"d5\" = legTopDepth"
equation "\"d6\" = legTopWidthLong"
equation "\"d97\" = plyThickness"
equation "\"d7\" = PlyThickness"
equation "\"d10\" = PlyThickness"
equation "\"d11\" = PlyThickness"
equation "\"d13\" = PlyThickness"
equation "\"d14\" = PlyThickness"
equation "\"d16\" = PlyThickness"
equation "\"d17\" = PlyThickness"
equation "\"d19\" = PlyThickness"
equation "\"d20\" = PlyThickness"
equation "\"d22\" = 0.5 * millDiameter"
equation "\"d23\" = legTopTabHeight"
equation "\"d24\" = legTabTotalWidth"
equation "\"d25\" = 0.333333 * tableLength"
equation "\"d26\" = PlyThickness"
equation "\"d28\" = plyThickness"
equation "\"d31\" = legTopSlotDepth"
equation "\"d29\" = PlyThickness"
equation "\"d32\" = 0.5 * plyThickness"
equation "\"d33\" = millDiameter"
equation "\"d40\" = 0.5 * plyThickness"
equation "\"d41\" = millDiameter"
equation "\"d48\" = 0.5 * plyThickness"
equation "\"d49\" = millDiameter"
equation "\"d56\" = millDiameter"
equation "\"d63\" = 0.5 * millDiameter"
equation "\"d64\" = millDiameter"
equation "\"d71\" = 0.5 * millDiameter"
equation "\"d72\" = millDiameter"
equation "\"d79\" = 0.5 * millDiameter"
equation "\"d80\" = millDiameter"
equation "\"d87\" = 0.5 * millDiameter"
equation "\"d88\" = 0.5 * millDiameter"
equation "\"d89\" = millDiameter"
equation "\"PlyThickness\" = 18"
equation "\"legHeight\" = 702"
equation "\"plyThickness\" = 18"
equation "\"tableLength\" = 1180"
equation "\"legTopWidthLong\" = 250"
equation "\"legBaseWidth\" = 100"
equation "\"legTopDepth\" = 80"
equation "\"millDiameter\" = 6.35"
equation "\"legTopTabHeight\" = 18"
equation "\"legTabTotalWidth\" = 100"
equation "\"legTopSlotDepth\" = 49"
properties part number "frontLeg"
